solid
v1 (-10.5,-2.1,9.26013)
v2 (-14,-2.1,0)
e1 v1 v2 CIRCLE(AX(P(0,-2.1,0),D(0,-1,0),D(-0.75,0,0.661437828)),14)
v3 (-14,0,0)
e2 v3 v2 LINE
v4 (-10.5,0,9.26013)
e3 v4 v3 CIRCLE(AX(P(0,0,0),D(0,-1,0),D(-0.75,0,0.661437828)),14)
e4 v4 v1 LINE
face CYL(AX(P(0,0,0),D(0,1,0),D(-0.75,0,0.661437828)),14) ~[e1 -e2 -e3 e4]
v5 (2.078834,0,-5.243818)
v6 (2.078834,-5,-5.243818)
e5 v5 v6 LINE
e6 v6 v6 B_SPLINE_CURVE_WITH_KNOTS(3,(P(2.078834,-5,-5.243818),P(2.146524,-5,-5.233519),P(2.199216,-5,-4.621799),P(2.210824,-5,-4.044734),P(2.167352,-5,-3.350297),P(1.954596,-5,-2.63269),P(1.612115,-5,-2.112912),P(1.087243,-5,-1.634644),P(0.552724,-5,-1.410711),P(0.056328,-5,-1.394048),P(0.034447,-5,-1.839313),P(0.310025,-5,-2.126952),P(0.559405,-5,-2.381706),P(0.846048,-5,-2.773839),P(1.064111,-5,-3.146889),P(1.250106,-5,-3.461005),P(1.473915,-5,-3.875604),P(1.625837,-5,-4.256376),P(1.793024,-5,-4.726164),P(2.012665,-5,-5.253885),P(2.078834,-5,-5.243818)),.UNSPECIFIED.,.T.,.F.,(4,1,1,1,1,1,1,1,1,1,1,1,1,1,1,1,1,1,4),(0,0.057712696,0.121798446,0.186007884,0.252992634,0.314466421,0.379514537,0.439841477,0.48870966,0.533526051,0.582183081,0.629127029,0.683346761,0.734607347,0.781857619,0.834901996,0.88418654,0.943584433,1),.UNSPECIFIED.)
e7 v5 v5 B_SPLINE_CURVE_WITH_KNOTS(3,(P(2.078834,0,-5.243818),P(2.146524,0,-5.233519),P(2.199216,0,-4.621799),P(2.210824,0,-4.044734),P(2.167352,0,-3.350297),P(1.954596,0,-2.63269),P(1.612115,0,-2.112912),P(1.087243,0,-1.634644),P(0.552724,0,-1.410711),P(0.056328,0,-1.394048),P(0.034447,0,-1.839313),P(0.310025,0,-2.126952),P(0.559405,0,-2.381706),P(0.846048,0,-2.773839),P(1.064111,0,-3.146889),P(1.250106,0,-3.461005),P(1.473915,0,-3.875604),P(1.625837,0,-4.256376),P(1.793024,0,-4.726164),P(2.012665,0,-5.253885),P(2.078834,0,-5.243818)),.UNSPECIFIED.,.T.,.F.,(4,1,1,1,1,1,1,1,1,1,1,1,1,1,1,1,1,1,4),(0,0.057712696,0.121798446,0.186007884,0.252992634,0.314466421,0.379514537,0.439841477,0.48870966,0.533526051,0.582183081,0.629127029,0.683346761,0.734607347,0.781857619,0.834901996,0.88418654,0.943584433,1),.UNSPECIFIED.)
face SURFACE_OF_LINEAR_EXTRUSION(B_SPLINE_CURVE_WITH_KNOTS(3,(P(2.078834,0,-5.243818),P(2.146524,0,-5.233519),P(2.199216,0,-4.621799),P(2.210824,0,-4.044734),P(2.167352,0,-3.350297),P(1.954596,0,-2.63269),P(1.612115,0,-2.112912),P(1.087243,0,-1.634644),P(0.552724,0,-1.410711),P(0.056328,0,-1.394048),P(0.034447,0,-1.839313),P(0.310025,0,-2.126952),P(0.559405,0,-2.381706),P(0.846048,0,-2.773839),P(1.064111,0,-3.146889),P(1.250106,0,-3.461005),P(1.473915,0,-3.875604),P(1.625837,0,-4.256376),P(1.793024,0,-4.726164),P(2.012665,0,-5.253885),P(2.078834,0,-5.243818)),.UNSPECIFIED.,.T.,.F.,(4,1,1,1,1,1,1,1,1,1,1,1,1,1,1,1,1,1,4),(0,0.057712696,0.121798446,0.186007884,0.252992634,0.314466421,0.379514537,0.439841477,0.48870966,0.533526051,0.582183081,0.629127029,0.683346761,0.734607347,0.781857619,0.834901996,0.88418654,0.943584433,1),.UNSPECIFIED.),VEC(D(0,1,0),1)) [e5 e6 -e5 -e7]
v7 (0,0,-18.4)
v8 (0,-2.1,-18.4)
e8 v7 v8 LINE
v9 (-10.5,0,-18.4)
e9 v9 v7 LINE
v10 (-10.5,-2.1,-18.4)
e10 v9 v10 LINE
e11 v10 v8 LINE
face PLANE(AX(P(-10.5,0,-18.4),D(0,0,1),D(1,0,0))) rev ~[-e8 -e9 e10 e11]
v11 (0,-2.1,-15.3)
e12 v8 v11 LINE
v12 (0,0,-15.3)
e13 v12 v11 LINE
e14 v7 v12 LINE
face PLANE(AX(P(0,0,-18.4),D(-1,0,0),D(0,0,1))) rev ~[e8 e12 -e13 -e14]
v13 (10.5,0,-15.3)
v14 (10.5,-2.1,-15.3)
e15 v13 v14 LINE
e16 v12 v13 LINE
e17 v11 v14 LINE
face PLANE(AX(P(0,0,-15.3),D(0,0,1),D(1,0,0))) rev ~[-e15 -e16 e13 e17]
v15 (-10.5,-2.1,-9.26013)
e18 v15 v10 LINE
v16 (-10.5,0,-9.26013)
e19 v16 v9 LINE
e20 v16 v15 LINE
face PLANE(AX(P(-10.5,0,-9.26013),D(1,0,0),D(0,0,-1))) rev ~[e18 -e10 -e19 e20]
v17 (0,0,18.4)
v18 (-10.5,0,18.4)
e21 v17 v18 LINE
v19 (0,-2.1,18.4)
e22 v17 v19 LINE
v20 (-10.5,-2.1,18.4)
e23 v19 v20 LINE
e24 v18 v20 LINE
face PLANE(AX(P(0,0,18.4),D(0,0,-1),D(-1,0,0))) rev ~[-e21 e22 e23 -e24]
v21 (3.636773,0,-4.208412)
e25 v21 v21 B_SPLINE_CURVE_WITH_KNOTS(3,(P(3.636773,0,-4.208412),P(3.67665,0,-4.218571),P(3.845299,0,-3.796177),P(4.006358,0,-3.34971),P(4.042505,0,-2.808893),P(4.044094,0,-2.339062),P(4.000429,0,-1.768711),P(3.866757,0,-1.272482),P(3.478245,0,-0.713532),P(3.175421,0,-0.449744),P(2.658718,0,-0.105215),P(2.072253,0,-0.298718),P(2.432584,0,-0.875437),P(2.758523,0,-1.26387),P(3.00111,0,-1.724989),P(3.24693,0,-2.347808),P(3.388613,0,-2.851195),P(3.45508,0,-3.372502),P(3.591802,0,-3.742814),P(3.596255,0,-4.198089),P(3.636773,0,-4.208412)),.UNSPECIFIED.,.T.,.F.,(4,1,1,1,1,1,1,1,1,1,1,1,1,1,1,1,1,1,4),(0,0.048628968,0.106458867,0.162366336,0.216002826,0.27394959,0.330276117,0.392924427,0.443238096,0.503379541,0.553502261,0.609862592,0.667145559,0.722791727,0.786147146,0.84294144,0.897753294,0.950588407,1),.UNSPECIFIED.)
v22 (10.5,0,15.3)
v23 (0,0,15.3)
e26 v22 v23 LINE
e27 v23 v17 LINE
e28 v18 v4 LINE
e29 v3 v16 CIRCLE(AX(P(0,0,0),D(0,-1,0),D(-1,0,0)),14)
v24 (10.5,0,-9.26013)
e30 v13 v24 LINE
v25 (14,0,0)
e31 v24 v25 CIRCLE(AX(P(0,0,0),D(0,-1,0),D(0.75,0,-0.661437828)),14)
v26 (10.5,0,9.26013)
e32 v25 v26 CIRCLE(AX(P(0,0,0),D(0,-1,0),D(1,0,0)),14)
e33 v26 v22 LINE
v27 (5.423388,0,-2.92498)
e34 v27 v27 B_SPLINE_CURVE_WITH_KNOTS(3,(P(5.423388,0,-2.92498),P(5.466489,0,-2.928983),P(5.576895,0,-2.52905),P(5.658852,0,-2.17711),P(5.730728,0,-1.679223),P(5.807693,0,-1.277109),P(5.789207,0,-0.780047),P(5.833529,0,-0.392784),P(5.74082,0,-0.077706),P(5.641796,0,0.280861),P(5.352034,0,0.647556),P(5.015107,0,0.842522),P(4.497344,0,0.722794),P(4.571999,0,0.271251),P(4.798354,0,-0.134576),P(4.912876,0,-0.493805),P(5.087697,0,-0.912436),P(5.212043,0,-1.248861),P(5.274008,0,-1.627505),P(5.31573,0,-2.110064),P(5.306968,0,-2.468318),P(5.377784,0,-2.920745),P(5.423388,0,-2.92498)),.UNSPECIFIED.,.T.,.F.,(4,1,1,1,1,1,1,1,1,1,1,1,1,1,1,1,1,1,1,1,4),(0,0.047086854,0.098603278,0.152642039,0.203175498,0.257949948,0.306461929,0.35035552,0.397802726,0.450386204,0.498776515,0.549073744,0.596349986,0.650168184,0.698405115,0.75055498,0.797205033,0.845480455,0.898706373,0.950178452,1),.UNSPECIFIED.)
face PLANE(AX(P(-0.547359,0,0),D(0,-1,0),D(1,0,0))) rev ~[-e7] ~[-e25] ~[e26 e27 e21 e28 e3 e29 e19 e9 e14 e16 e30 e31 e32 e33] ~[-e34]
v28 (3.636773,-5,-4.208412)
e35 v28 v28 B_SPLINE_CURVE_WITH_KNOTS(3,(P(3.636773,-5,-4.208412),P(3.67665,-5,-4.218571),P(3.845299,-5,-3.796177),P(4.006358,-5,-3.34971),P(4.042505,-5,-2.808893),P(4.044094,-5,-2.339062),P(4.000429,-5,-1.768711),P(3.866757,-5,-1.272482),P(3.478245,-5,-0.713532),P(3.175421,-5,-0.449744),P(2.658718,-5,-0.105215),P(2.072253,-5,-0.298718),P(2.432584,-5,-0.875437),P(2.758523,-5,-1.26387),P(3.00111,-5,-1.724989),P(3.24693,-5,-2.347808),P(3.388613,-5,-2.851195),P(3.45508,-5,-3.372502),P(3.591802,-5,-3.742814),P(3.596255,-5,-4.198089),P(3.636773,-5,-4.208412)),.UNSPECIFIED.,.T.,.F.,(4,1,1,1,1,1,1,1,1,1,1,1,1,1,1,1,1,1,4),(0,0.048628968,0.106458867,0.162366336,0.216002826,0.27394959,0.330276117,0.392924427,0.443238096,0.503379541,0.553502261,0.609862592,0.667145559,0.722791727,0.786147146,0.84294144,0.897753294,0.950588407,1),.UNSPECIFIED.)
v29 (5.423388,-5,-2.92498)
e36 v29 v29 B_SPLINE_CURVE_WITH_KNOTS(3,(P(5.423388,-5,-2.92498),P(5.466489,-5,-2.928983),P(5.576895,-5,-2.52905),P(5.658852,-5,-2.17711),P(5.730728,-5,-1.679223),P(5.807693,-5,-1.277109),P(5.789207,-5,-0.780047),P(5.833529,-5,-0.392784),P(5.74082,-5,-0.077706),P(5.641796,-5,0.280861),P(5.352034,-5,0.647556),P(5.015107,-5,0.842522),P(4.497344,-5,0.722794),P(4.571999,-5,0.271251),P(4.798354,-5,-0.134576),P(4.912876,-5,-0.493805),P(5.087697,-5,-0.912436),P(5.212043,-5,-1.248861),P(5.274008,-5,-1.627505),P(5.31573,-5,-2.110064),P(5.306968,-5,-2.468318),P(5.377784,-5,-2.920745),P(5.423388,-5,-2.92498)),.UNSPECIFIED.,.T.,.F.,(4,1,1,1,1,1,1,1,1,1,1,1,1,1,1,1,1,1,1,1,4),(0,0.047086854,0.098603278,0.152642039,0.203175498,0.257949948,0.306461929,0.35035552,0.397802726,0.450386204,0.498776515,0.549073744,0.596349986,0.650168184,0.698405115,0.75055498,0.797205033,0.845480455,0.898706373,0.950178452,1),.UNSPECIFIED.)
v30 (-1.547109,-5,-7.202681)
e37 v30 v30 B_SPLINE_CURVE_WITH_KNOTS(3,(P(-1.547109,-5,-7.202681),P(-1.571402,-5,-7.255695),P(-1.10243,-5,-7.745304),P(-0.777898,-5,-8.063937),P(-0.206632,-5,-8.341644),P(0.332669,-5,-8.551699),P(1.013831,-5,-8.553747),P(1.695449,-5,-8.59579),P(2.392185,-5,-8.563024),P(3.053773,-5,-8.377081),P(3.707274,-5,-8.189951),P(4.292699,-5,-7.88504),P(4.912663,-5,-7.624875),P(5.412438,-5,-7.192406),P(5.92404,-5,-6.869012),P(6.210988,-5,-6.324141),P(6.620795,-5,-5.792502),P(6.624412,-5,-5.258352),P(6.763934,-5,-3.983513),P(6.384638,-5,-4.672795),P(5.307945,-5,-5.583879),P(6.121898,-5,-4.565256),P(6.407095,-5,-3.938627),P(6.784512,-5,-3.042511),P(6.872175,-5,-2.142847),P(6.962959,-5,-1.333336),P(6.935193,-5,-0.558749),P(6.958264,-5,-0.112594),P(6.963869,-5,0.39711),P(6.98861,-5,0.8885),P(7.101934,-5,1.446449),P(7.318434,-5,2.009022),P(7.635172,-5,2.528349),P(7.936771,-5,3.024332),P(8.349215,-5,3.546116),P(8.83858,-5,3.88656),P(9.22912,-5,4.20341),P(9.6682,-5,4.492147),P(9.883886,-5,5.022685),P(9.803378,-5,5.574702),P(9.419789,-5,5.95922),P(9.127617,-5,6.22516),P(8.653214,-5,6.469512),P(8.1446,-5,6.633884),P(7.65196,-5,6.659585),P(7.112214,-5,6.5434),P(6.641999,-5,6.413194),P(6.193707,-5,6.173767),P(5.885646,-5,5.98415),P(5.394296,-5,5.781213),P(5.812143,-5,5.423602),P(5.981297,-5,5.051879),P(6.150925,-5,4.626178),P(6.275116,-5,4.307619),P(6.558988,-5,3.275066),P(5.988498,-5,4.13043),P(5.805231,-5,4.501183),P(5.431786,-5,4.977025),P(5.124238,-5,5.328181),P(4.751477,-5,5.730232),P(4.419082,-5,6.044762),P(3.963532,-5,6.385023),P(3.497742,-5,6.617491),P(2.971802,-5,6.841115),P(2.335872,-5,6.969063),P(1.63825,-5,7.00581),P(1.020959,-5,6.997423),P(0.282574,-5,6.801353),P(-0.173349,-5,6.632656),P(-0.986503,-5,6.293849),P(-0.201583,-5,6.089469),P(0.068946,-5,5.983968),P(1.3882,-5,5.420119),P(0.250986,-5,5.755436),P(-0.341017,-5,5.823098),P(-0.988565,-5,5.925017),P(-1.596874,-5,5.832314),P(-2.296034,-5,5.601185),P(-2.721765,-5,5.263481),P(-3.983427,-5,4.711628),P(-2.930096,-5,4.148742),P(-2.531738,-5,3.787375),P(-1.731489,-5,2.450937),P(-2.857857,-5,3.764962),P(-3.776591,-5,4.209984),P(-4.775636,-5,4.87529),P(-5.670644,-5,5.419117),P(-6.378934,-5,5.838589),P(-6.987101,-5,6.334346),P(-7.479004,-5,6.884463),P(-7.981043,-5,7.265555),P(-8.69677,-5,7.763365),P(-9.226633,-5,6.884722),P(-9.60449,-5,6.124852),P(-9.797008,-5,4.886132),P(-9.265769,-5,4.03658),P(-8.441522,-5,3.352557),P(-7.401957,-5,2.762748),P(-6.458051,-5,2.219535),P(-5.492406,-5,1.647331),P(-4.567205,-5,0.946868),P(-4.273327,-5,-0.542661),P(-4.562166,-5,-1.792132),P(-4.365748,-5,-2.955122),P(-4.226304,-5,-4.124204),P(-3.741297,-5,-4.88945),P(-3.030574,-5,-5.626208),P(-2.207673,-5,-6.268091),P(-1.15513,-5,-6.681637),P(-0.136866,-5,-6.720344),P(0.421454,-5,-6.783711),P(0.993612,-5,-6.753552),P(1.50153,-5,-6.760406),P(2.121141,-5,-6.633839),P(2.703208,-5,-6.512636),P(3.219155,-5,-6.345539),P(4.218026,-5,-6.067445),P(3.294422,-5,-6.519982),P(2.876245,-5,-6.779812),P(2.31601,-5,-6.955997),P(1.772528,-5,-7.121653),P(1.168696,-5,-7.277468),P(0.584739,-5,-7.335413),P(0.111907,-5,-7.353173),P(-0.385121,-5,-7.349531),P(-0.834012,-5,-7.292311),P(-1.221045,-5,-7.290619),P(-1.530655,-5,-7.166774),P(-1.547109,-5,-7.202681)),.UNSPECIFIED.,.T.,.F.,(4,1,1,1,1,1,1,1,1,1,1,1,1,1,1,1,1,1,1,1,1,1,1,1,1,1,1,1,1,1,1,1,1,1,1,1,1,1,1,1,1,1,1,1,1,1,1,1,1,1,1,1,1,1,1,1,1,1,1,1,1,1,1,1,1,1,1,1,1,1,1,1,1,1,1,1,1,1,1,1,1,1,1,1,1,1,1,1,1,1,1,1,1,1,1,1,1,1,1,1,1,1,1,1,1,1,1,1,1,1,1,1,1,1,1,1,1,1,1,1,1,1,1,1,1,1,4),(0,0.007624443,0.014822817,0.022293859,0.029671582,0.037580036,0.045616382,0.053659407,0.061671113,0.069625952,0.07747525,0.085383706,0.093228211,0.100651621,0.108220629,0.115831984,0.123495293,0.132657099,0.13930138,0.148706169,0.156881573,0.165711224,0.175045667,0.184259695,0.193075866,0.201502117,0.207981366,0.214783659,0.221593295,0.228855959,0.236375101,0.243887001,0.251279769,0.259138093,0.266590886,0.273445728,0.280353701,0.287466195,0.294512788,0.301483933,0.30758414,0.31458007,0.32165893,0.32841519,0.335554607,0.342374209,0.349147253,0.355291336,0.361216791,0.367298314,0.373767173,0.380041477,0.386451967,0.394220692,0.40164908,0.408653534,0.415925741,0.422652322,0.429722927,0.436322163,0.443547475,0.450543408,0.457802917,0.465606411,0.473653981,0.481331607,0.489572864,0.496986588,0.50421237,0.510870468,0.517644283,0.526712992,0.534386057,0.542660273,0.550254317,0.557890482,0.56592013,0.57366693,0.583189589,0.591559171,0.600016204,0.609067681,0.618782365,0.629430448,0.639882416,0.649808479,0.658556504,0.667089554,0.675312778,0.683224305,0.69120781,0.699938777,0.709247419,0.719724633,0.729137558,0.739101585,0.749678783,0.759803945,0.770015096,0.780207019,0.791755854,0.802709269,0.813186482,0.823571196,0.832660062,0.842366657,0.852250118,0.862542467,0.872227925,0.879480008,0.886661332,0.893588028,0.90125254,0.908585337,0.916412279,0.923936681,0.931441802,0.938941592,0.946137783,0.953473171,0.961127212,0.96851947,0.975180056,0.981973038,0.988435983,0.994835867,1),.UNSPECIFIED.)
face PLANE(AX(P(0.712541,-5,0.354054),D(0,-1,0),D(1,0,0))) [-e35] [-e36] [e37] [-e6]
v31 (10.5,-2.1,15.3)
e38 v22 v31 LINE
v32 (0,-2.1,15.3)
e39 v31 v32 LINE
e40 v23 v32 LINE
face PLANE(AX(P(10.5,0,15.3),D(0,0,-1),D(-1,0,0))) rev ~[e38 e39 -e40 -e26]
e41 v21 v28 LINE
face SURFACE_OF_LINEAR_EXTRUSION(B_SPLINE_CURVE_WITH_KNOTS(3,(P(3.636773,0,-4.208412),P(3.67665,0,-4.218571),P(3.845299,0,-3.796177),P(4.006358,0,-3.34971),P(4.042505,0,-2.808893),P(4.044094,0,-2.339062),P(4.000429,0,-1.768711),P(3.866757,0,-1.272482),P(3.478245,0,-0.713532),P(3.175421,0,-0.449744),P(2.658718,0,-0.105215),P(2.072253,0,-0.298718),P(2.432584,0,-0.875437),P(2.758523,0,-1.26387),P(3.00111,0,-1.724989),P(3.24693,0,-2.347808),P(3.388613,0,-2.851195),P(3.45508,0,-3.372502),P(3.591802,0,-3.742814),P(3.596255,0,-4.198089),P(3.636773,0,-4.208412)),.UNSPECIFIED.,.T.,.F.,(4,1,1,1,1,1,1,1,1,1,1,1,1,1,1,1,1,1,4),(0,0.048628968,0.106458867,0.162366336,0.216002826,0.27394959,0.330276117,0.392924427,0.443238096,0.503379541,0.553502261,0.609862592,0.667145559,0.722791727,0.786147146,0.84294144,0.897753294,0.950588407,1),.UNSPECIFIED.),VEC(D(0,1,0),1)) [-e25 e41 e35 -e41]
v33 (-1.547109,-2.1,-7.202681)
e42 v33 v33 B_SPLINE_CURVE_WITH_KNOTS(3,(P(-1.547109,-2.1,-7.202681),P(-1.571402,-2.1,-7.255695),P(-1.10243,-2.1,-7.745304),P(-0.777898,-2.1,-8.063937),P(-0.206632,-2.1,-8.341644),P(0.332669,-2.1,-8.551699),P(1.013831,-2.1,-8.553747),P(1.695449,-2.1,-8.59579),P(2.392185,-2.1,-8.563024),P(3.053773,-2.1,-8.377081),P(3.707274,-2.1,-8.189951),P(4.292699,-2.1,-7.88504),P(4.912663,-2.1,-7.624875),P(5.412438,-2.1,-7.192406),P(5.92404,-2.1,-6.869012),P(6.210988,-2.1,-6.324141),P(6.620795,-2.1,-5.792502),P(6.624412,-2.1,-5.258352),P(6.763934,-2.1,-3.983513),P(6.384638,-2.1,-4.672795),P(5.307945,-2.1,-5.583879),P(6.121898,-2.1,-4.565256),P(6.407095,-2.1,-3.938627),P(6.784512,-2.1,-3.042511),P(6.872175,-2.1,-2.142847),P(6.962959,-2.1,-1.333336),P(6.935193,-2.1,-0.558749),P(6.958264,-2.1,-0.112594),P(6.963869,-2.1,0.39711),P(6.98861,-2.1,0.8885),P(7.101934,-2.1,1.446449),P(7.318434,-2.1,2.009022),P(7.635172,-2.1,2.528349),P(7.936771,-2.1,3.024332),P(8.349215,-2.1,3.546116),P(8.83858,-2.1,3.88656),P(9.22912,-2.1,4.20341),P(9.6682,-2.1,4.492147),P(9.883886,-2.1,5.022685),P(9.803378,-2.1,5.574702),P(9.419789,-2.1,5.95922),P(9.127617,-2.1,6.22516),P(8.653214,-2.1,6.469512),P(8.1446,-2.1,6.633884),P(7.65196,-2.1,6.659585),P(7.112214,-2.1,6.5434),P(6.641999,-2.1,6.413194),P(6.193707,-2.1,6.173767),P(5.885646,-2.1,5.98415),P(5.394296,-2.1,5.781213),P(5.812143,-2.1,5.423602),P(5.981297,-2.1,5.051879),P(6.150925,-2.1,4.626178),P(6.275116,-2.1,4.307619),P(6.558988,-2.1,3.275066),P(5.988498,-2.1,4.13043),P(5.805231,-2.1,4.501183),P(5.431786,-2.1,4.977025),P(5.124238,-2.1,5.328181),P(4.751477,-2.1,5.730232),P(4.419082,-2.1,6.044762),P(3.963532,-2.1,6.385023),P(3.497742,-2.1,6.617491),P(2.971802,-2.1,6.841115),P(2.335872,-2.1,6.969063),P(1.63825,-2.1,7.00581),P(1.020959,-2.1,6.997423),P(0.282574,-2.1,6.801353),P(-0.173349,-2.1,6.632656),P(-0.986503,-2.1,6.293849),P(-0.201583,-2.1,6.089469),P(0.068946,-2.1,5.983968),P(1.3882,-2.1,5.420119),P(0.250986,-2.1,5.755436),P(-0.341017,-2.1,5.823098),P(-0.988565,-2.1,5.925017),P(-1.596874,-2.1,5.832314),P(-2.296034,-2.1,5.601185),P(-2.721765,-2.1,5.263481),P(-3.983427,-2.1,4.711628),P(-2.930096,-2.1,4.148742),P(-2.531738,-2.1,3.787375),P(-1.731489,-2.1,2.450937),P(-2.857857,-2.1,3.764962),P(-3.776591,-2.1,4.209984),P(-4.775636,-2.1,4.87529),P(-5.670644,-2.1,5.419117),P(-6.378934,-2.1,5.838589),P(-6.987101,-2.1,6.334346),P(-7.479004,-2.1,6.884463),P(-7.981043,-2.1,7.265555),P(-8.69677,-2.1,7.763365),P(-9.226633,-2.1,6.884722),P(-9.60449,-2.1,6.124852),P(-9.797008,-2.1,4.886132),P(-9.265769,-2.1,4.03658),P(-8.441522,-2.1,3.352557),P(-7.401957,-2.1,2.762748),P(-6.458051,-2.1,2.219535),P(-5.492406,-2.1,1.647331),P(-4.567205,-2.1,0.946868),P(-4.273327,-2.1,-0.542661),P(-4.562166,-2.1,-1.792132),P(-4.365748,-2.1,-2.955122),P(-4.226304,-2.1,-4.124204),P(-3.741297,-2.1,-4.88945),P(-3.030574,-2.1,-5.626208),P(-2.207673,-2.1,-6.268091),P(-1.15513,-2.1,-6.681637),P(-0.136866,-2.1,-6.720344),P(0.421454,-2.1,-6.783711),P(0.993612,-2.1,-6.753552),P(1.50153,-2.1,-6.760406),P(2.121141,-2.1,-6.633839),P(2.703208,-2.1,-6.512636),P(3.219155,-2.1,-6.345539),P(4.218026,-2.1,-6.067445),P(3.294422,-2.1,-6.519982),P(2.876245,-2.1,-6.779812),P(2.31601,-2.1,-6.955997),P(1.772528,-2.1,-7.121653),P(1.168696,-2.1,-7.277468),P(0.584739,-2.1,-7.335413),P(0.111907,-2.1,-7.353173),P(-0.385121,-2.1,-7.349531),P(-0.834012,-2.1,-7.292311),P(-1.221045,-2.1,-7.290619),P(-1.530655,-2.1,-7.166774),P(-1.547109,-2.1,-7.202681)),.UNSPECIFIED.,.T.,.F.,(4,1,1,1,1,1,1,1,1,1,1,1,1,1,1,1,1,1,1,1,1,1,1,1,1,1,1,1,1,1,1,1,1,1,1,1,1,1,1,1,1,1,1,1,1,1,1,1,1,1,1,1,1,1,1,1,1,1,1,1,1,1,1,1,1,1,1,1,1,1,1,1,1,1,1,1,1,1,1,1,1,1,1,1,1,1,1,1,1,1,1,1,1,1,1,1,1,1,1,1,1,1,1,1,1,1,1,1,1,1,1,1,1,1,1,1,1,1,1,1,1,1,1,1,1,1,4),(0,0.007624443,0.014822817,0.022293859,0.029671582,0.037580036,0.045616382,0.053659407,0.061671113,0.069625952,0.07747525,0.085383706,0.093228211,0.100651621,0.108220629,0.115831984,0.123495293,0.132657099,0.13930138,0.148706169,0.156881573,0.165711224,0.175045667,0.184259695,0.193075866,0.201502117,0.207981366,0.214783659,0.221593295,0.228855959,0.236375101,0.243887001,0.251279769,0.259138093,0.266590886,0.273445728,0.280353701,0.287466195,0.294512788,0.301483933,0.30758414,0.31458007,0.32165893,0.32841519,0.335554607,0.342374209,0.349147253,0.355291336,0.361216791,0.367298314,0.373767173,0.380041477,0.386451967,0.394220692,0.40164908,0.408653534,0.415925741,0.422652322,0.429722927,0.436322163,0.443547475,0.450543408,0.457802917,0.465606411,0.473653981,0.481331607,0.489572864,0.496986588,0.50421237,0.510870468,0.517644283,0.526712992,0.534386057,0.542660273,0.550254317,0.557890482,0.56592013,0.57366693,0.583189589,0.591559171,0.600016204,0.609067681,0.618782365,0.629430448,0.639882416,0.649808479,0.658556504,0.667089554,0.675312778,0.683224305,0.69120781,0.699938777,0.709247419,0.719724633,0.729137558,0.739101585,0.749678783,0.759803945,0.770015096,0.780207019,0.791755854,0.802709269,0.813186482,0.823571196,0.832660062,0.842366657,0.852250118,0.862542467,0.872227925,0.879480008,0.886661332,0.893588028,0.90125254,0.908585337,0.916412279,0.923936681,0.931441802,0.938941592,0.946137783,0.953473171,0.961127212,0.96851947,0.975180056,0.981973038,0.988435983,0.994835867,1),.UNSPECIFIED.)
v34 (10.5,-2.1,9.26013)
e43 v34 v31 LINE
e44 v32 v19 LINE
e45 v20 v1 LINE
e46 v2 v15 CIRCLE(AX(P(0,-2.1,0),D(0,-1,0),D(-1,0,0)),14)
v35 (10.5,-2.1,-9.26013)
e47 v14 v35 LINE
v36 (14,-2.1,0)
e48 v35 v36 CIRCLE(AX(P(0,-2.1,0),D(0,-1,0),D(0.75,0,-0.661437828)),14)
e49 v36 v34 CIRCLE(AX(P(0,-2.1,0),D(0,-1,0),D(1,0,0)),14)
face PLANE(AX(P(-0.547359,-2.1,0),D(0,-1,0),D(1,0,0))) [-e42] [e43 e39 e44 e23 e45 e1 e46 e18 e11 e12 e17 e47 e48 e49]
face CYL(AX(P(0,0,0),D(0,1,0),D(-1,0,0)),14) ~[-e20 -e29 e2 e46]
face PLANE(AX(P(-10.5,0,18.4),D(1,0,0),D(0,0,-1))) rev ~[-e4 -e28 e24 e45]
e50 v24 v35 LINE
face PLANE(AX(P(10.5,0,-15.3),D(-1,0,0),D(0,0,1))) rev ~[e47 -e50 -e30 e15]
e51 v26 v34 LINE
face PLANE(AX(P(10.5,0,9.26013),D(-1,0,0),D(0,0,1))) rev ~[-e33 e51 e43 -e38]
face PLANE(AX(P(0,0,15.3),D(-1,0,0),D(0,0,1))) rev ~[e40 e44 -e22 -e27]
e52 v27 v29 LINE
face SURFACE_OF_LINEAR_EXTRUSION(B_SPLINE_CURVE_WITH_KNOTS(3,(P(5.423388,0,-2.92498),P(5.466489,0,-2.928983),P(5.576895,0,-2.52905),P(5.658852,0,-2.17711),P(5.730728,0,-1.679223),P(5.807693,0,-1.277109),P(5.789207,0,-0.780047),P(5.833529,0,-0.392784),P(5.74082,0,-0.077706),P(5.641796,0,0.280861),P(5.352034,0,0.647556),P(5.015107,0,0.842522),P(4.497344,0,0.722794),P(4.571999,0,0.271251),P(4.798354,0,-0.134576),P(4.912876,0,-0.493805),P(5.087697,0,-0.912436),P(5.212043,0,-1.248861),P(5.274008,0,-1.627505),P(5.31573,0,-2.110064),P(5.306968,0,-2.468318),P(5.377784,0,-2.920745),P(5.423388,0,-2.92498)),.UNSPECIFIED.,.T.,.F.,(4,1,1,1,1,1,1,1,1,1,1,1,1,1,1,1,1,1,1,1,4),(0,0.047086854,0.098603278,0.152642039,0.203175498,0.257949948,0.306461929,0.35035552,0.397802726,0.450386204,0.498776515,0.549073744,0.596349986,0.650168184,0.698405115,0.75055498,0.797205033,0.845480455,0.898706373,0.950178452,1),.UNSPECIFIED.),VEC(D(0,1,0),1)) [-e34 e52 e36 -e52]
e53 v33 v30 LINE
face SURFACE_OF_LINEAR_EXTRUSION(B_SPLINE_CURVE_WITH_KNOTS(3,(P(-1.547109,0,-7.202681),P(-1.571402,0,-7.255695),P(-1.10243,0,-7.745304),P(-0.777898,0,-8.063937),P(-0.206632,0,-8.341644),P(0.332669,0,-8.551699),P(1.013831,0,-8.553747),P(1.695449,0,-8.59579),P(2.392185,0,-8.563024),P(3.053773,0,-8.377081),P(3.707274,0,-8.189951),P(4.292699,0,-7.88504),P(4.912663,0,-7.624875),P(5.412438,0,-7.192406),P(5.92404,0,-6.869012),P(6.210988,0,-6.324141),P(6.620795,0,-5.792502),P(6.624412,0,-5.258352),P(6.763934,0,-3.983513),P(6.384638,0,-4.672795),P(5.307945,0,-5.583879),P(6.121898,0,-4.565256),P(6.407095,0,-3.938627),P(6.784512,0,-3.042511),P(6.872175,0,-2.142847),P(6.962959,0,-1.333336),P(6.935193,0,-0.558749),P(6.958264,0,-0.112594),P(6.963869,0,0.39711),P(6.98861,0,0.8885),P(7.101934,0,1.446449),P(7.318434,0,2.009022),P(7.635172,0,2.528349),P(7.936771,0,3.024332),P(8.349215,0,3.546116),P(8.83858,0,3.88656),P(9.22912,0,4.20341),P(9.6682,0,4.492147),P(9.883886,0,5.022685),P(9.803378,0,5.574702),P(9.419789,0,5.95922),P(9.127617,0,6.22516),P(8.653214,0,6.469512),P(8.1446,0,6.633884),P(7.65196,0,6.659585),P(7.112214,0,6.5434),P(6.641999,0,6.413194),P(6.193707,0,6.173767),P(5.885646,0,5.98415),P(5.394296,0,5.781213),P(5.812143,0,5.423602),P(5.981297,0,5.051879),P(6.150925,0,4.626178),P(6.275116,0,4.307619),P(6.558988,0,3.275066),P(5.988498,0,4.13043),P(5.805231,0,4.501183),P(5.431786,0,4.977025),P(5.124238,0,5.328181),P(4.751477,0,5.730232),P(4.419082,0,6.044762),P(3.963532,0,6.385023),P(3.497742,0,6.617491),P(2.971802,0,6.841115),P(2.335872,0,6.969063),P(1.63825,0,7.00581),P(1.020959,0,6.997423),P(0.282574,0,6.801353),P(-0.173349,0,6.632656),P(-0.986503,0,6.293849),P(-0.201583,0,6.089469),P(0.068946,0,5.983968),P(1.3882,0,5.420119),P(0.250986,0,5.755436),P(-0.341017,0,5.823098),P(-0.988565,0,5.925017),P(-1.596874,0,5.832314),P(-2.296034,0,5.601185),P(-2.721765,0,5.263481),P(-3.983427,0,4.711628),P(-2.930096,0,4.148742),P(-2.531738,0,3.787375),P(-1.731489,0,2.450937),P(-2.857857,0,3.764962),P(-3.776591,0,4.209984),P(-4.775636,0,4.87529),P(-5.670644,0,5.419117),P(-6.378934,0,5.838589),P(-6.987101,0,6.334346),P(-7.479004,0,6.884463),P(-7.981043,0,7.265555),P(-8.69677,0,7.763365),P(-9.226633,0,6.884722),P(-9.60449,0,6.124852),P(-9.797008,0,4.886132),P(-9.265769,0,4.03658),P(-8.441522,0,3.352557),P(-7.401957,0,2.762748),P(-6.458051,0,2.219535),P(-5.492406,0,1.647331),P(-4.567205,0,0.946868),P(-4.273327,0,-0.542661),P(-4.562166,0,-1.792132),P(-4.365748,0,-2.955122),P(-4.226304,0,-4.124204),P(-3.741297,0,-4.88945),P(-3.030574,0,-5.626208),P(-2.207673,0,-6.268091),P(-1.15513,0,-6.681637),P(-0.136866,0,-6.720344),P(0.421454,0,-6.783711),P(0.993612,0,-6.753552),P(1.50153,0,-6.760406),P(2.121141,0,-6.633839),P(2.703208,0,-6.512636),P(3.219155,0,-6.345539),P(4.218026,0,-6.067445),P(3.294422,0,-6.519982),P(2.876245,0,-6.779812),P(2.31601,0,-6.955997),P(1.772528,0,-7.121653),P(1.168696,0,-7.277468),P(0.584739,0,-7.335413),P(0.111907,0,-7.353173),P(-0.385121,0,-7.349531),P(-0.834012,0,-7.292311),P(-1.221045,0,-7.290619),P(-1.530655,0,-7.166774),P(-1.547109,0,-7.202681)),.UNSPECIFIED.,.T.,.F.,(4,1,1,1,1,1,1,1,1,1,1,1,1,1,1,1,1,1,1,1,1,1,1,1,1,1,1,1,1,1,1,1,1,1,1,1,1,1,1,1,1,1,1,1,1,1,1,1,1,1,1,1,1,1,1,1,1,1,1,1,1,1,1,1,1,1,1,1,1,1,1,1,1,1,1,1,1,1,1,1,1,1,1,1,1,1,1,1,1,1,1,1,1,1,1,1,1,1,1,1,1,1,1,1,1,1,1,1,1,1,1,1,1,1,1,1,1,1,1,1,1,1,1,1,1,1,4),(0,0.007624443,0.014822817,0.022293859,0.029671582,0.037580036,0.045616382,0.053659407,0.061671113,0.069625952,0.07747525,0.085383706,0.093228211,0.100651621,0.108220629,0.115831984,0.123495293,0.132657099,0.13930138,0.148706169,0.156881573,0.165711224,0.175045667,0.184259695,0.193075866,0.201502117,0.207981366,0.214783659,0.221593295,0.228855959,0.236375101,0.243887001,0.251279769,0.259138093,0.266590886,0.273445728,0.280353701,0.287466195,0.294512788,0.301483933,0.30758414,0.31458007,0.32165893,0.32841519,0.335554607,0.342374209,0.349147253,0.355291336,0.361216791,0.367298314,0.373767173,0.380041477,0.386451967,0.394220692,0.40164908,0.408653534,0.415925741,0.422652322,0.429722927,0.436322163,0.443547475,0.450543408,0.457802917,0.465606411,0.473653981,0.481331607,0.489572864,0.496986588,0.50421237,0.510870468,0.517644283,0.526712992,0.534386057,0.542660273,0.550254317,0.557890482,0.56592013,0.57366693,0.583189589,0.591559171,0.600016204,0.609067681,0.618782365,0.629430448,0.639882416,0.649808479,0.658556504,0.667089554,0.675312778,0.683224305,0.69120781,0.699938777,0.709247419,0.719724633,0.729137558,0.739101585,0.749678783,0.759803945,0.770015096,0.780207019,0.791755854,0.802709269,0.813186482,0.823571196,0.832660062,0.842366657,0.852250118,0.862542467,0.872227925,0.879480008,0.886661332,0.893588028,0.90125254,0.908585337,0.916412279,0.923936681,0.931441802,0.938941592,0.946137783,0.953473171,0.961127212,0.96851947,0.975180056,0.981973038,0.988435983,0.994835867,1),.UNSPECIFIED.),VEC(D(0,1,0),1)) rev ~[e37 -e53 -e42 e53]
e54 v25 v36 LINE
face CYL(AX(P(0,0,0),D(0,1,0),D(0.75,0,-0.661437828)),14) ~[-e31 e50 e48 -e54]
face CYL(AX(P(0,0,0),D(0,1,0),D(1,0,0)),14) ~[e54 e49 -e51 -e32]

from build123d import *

# Parameters (mm, degrees)
F1_DEPTH = 5
F2_DEPTH = 2.1


with BuildPart() as f1:
    # F0 (on Front) → F1 (new body)
    with BuildSketch(Plane.XZ):
        with BuildLine():
            add(Edge.make_bspline(
                [(-1.54710887, -7.2026806884), (-1.5714022816, -7.2556947029), (-1.1024298731, -7.7453036432), (-0.7778983012, -8.0639370539), (-0.2066323452, -8.3416437166), (0.3326687358, -8.5516990853), (1.0138306321, -8.5537472646), (1.6954487308, -8.5957895148), (2.3921853206, -8.5630242221), (3.053772806, -8.3770805223), (3.7072739478, -8.189951125), (4.2926992308, -7.8850400927), (4.9126628675, -7.624875456), (5.4124378942, -7.1924056499), (5.924040299, -6.869011896), (6.2109884583, -6.324141205), (6.6207950176, -5.7925023908), (6.6244121236, -5.2583521431), (6.7639344538, -3.9835134937), (6.3846380458, -4.6727948873), (5.3079451979, -5.5838786057), (6.1218984803, -4.5652559271), (6.4070953996, -3.9386268467), (6.784511678, -3.0425106229), (6.8721749353, -2.1428468024), (6.9629586119, -1.3333357087), (6.9351932866, -0.5587490641), (6.9582636275, -0.1125937975), (6.9638690546, 0.3971102014), (6.9886103185, 0.8885003296), (7.1019341821, 1.446448609), (7.318433989, 2.009021543), (7.6351718808, 2.52834946), (7.9367707882, 3.0243317102), (8.3492148225, 3.546115569), (8.8385801488, 3.8865601447), (9.229119525, 4.2034098288), (9.668200122, 4.492146706), (9.8838862648, 5.0226847085), (9.8033778941, 5.5747024529), (9.4197889803, 5.9592202424), (9.1276170187, 6.2251604091), (8.6532143131, 6.4695115906), (8.1446004084, 6.6338840478), (7.651960052, 6.6595853458), (7.1122141562, 6.5433998673), (6.6419990819, 6.4131944029), (6.193706711, 6.1737670737), (5.8856458796, 5.9841495527), (5.3942958869, 5.7812132158), (5.81214322, 5.4236017907), (5.9812970587, 5.0518786047), (6.1509246733, 4.6261781577), (6.2751162061, 4.3076190528), (6.5589881158, 3.2750657417), (5.9884976585, 4.1304298355), (5.8052313848, 4.5011832964), (5.4317860342, 4.9770254094), (5.1242383891, 5.328181282), (4.7514765015, 5.7302321929), (4.4190822378, 6.0447620005), (3.9635324199, 6.3850227619), (3.4977422696, 6.6174905864), (2.971801794, 6.8411149294), (2.3358715196, 6.9690628347), (1.6382500286, 7.0058099014), (1.0209585483, 6.9974231015), (0.2825740376, 6.8013530942), (-0.1733492359, 6.6326564949), (-0.9865034735, 6.2938488031), (-0.2015831608, 6.089469136), (0.0689455439, 5.9839676668), (1.3882003442, 5.4201194472), (0.2509857561, 5.7554358539), (-0.3410174619, 5.8230984276), (-0.9885652276, 5.9250169044), (-1.5968735631, 5.83231375), (-2.2960342588, 5.6011850295), (-2.721764598, 5.2634806835), (-3.9834268869, 4.7116284575), (-2.9300964524, 4.1487421169), (-2.5317376874, 3.7873752894), (-1.7314889543, 2.4509367484), (-2.8578574434, 3.7649616122), (-3.7765909058, 4.2099840988), (-4.7756357365, 4.8752901357), (-5.6706439018, 5.4191168203), (-6.3789340308, 5.8385893947), (-6.9871007439, 6.3343459742), (-7.4790036899, 6.8844633905), (-7.981043123, 7.2655545343), (-8.6967696294, 7.7633646281), (-9.2266334733, 6.8847216067), (-9.6044895588, 6.1248518404), (-9.7970075848, 4.8861315647), (-9.265769161, 4.0365799476), (-8.4415217617, 3.3525570848), (-7.401956768, 2.7627475447), (-6.4580512541, 2.2195350495), (-5.4924062838, 1.6473312567), (-4.5672050669, 0.9468680966), (-4.2733265657, -0.5426607653), (-4.5621657048, -1.7921322275), (-4.3657479377, -2.955122333), (-4.226304176, -4.1242043293), (-3.7412971037, -4.8894495756), (-3.0305743479, -5.6262078056), (-2.2076730787, -6.2680907125), (-1.1551297617, -6.6816374056), (-0.1368661608, -6.7203435604), (0.4214539306, -6.7837111889), (0.9936119697, -6.7535524835), (1.5015295571, -6.7604056262), (2.1211413178, -6.6338392951), (2.7032079702, -6.5126363182), (3.2191551253, -6.3455394173), (4.2180264763, -6.0674446496), (3.2944215205, -6.5199815582), (2.8762450769, -6.77981168), (2.3160097214, -6.9559971564), (1.7725282272, -7.1216530032), (1.1686958123, -7.2774676554), (0.5847391242, -7.3354130793), (0.1119074651, -7.3531733314), (-0.3851206627, -7.349530941), (-0.8340122168, -7.2923106759), (-1.221044967, -7.2906187448), (-1.5306546314, -7.1667736177), (-1.54710887, -7.2026806884)],
                knots=[0, 0, 0, 0, 0.0076244429, 0.0148228168, 0.0222938595, 0.029671582, 0.0375800363, 0.0456163817, 0.0536594075, 0.0616711128, 0.0696259517, 0.0774752497, 0.0853837057, 0.0932282112, 0.1006516206, 0.1082206289, 0.115831984, 0.1234952931, 0.1326570988, 0.1393013796, 0.1487061688, 0.1568815732, 0.1657112239, 0.1750456667, 0.1842596953, 0.1930758665, 0.2015021173, 0.2079813662, 0.2147836592, 0.2215932948, 0.2288559586, 0.2363751009, 0.243887001, 0.2512797694, 0.2591380935, 0.2665908862, 0.2734457285, 0.2803537008, 0.2874661947, 0.2945127879, 0.3014839334, 0.3075841402, 0.3145800703, 0.3216589299, 0.3284151902, 0.3355546067, 0.3423742091, 0.3491472531, 0.355291336, 0.3612167914, 0.3672983142, 0.3737671732, 0.3800414773, 0.386451967, 0.3942206918, 0.40164908, 0.4086535336, 0.4159257408, 0.4226523222, 0.4297229274, 0.4363221634, 0.4435474752, 0.450543408, 0.4578029171, 0.4656064112, 0.4736539812, 0.4813316069, 0.4895728645, 0.4969865879, 0.5042123697, 0.5108704678, 0.5176442834, 0.5267129919, 0.5343860568, 0.5426602731, 0.5502543167, 0.5578904824, 0.5659201301, 0.57366693, 0.5831895886, 0.5915591708, 0.6000162038, 0.6090676805, 0.6187823653, 0.6294304476, 0.6398824162, 0.6498084785, 0.658556504, 0.667089554, 0.6753127782, 0.6832243053, 0.6912078103, 0.6999387773, 0.709247419, 0.7197246333, 0.7291375579, 0.7391015853, 0.7496787832, 0.7598039447, 0.7700150957, 0.780207019, 0.7917558544, 0.8027092691, 0.8131864822, 0.8235711965, 0.8326600615, 0.842366657, 0.8522501182, 0.8625424666, 0.8722279246, 0.8794800084, 0.8866613321, 0.893588028, 0.9012525404, 0.9085853368, 0.9164122789, 0.9239366814, 0.9314418024, 0.9389415916, 0.9461377832, 0.9534731712, 0.9611272119, 0.9685194702, 0.9751800556, 0.981973038, 0.9884359826, 0.9948358672, 1, 1, 1, 1], degree=3))
        make_face()
        with BuildLine():
            add(Edge.make_bspline(
                [(2.0788342226, -5.24381781), (2.1465243707, -5.2335194099), (2.1992160415, -4.6217988602), (2.2108244023, -4.0447335805), (2.1673515423, -3.3502971536), (1.9545962949, -2.6326898651), (1.6121145795, -2.1129117602), (1.0872429151, -1.634643544), (0.5527239854, -1.4107113367), (0.0563284697, -1.3940483774), (0.0344473781, -1.8393125051), (0.3100245558, -2.1269522286), (0.559404564, -2.3817055704), (0.846048216, -2.7738393555), (1.0641105096, -3.1468885264), (1.2501058998, -3.4610050365), (1.4739150282, -3.8756041737), (1.6258371524, -4.256375962), (1.7930239317, -4.7261640139), (2.0126654532, -5.253884747), (2.0788342226, -5.24381781)],
                knots=[0, 0, 0, 0, 0.0577126962, 0.1217984461, 0.1860078843, 0.252992634, 0.3144664211, 0.3795145369, 0.439841477, 0.4887096601, 0.5335260507, 0.5821830808, 0.629127029, 0.6833467607, 0.7346073471, 0.7818576188, 0.8349019956, 0.8841865395, 0.943584433, 1, 1, 1, 1], degree=3))
        make_face(mode=Mode.SUBTRACT)
        with BuildLine():
            add(Edge.make_bspline(
                [(3.6367734428, -4.2084120214), (3.6766498164, -4.2185711678), (3.8452986006, -3.7961766905), (4.0063581887, -3.3497101578), (4.0425050692, -2.8088930591), (4.0440943249, -2.3390623424), (4.0004292622, -1.7687106948), (3.8667573406, -1.2724816993), (3.4782445097, -0.7135318262), (3.1754207608, -0.4497437281), (2.6587184253, -0.1052149867), (2.0722532956, -0.2987175394), (2.4325837412, -0.8754372825), (2.758522871, -1.2638697646), (3.0011101817, -1.7249885327), (3.2469297671, -2.3478079466), (3.3886128164, -2.8511949429), (3.4550797242, -3.3725017732), (3.591801561, -3.7428136424), (3.5962553062, -4.1980893756), (3.6367734428, -4.2084120214)],
                knots=[0, 0, 0, 0, 0.0486289677, 0.1064588668, 0.1623663356, 0.2160028259, 0.2739495901, 0.3302761167, 0.3929244266, 0.443238096, 0.5033795411, 0.5535022608, 0.6098625923, 0.6671455591, 0.7227917269, 0.7861471459, 0.8429414398, 0.8977532937, 0.9505884067, 1, 1, 1, 1], degree=3))
        make_face(mode=Mode.SUBTRACT)
        with BuildLine():
            add(Edge.make_bspline(
                [(5.4233879782, -2.9249803629), (5.4664886373, -2.9289829691), (5.5768946595, -2.5290499713), (5.6588516359, -2.1771096192), (5.7307284732, -1.6792227719), (5.8076926539, -1.2771087757), (5.7892072419, -0.7800471538), (5.8335285473, -0.39278376), (5.7408201389, -0.0777063568), (5.6417963113, 0.2808608778), (5.3520344689, 0.6475557419), (5.0151065371, 0.8425224852), (4.4973442715, 0.7227936498), (4.571998853, 0.2712513582), (4.7983544356, -0.1345758853), (4.9128757941, -0.4938047605), (5.087697496, -0.9124358032), (5.212043097, -1.2488607972), (5.2740075668, -1.627505158), (5.3157301644, -2.1100642138), (5.3069677587, -2.4683184335), (5.3777841345, -2.9207452947), (5.4233879782, -2.9249803629)],
                knots=[0, 0, 0, 0, 0.0470868545, 0.0986032784, 0.1526420393, 0.2031754983, 0.2579499482, 0.3064619289, 0.3503555197, 0.397802726, 0.4503862044, 0.4987765152, 0.5490737437, 0.5963499856, 0.6501681839, 0.6984051154, 0.7505549799, 0.7972050329, 0.8454804549, 0.898706373, 0.950178452, 1, 1, 1, 1], degree=3))
        make_face(mode=Mode.SUBTRACT)
    extrude(amount=F1_DEPTH)

    # F0 (on Front) → F2 (join)
    with BuildSketch(Plane.XZ):
        with BuildLine():
            Line((-10.5, 18.4), (-10.5, 9.2601295887))
            ThreePointArc((-10.5, 9.2601295887), (-13.0958008537, 4.9497474683), (-14, 0))
            ThreePointArc((-14, 0), (-13.0958008537, -4.9497474683), (-10.5, -9.2601295887))
            Line((-10.5, -9.2601295887), (-10.5, -18.4))
            Line((-10.5, -18.4), (0, -18.4))
            Line((0, -18.4), (0, -15.3))
            Line((0, -15.3), (10.5, -15.3))
            Line((10.5, -15.3), (10.5, -9.2601295887))
            ThreePointArc((10.5, -9.2601295887), (13.0958008537, -4.9497474683), (14, 0))
            ThreePointArc((14, 0), (13.0958008537, 4.9497474683), (10.5, 9.2601295887))
            Line((10.5, 9.2601295887), (10.5, 15.3))
            Line((10.5, 15.3), (0, 15.3))
            Line((0, 15.3), (0, 18.4))
            Line((0, 18.4), (-10.5, 18.4))
        make_face()
        with BuildLine():
            add(Edge.make_bspline(
                [(-1.54710887, -7.2026806884), (-1.5714022816, -7.2556947029), (-1.1024298731, -7.7453036432), (-0.7778983012, -8.0639370539), (-0.2066323452, -8.3416437166), (0.3326687358, -8.5516990853), (1.0138306321, -8.5537472646), (1.6954487308, -8.5957895148), (2.3921853206, -8.5630242221), (3.053772806, -8.3770805223), (3.7072739478, -8.189951125), (4.2926992308, -7.8850400927), (4.9126628675, -7.624875456), (5.4124378942, -7.1924056499), (5.924040299, -6.869011896), (6.2109884583, -6.324141205), (6.6207950176, -5.7925023908), (6.6244121236, -5.2583521431), (6.7639344538, -3.9835134937), (6.3846380458, -4.6727948873), (5.3079451979, -5.5838786057), (6.1218984803, -4.5652559271), (6.4070953996, -3.9386268467), (6.784511678, -3.0425106229), (6.8721749353, -2.1428468024), (6.9629586119, -1.3333357087), (6.9351932866, -0.5587490641), (6.9582636275, -0.1125937975), (6.9638690546, 0.3971102014), (6.9886103185, 0.8885003296), (7.1019341821, 1.446448609), (7.318433989, 2.009021543), (7.6351718808, 2.52834946), (7.9367707882, 3.0243317102), (8.3492148225, 3.546115569), (8.8385801488, 3.8865601447), (9.229119525, 4.2034098288), (9.668200122, 4.492146706), (9.8838862648, 5.0226847085), (9.8033778941, 5.5747024529), (9.4197889803, 5.9592202424), (9.1276170187, 6.2251604091), (8.6532143131, 6.4695115906), (8.1446004084, 6.6338840478), (7.651960052, 6.6595853458), (7.1122141562, 6.5433998673), (6.6419990819, 6.4131944029), (6.193706711, 6.1737670737), (5.8856458796, 5.9841495527), (5.3942958869, 5.7812132158), (5.81214322, 5.4236017907), (5.9812970587, 5.0518786047), (6.1509246733, 4.6261781577), (6.2751162061, 4.3076190528), (6.5589881158, 3.2750657417), (5.9884976585, 4.1304298355), (5.8052313848, 4.5011832964), (5.4317860342, 4.9770254094), (5.1242383891, 5.328181282), (4.7514765015, 5.7302321929), (4.4190822378, 6.0447620005), (3.9635324199, 6.3850227619), (3.4977422696, 6.6174905864), (2.971801794, 6.8411149294), (2.3358715196, 6.9690628347), (1.6382500286, 7.0058099014), (1.0209585483, 6.9974231015), (0.2825740376, 6.8013530942), (-0.1733492359, 6.6326564949), (-0.9865034735, 6.2938488031), (-0.2015831608, 6.089469136), (0.0689455439, 5.9839676668), (1.3882003442, 5.4201194472), (0.2509857561, 5.7554358539), (-0.3410174619, 5.8230984276), (-0.9885652276, 5.9250169044), (-1.5968735631, 5.83231375), (-2.2960342588, 5.6011850295), (-2.721764598, 5.2634806835), (-3.9834268869, 4.7116284575), (-2.9300964524, 4.1487421169), (-2.5317376874, 3.7873752894), (-1.7314889543, 2.4509367484), (-2.8578574434, 3.7649616122), (-3.7765909058, 4.2099840988), (-4.7756357365, 4.8752901357), (-5.6706439018, 5.4191168203), (-6.3789340308, 5.8385893947), (-6.9871007439, 6.3343459742), (-7.4790036899, 6.8844633905), (-7.981043123, 7.2655545343), (-8.6967696294, 7.7633646281), (-9.2266334733, 6.8847216067), (-9.6044895588, 6.1248518404), (-9.7970075848, 4.8861315647), (-9.265769161, 4.0365799476), (-8.4415217617, 3.3525570848), (-7.401956768, 2.7627475447), (-6.4580512541, 2.2195350495), (-5.4924062838, 1.6473312567), (-4.5672050669, 0.9468680966), (-4.2733265657, -0.5426607653), (-4.5621657048, -1.7921322275), (-4.3657479377, -2.955122333), (-4.226304176, -4.1242043293), (-3.7412971037, -4.8894495756), (-3.0305743479, -5.6262078056), (-2.2076730787, -6.2680907125), (-1.1551297617, -6.6816374056), (-0.1368661608, -6.7203435604), (0.4214539306, -6.7837111889), (0.9936119697, -6.7535524835), (1.5015295571, -6.7604056262), (2.1211413178, -6.6338392951), (2.7032079702, -6.5126363182), (3.2191551253, -6.3455394173), (4.2180264763, -6.0674446496), (3.2944215205, -6.5199815582), (2.8762450769, -6.77981168), (2.3160097214, -6.9559971564), (1.7725282272, -7.1216530032), (1.1686958123, -7.2774676554), (0.5847391242, -7.3354130793), (0.1119074651, -7.3531733314), (-0.3851206627, -7.349530941), (-0.8340122168, -7.2923106759), (-1.221044967, -7.2906187448), (-1.5306546314, -7.1667736177), (-1.54710887, -7.2026806884)],
                knots=[0, 0, 0, 0, 0.0076244429, 0.0148228168, 0.0222938595, 0.029671582, 0.0375800363, 0.0456163817, 0.0536594075, 0.0616711128, 0.0696259517, 0.0774752497, 0.0853837057, 0.0932282112, 0.1006516206, 0.1082206289, 0.115831984, 0.1234952931, 0.1326570988, 0.1393013796, 0.1487061688, 0.1568815732, 0.1657112239, 0.1750456667, 0.1842596953, 0.1930758665, 0.2015021173, 0.2079813662, 0.2147836592, 0.2215932948, 0.2288559586, 0.2363751009, 0.243887001, 0.2512797694, 0.2591380935, 0.2665908862, 0.2734457285, 0.2803537008, 0.2874661947, 0.2945127879, 0.3014839334, 0.3075841402, 0.3145800703, 0.3216589299, 0.3284151902, 0.3355546067, 0.3423742091, 0.3491472531, 0.355291336, 0.3612167914, 0.3672983142, 0.3737671732, 0.3800414773, 0.386451967, 0.3942206918, 0.40164908, 0.4086535336, 0.4159257408, 0.4226523222, 0.4297229274, 0.4363221634, 0.4435474752, 0.450543408, 0.4578029171, 0.4656064112, 0.4736539812, 0.4813316069, 0.4895728645, 0.4969865879, 0.5042123697, 0.5108704678, 0.5176442834, 0.5267129919, 0.5343860568, 0.5426602731, 0.5502543167, 0.5578904824, 0.5659201301, 0.57366693, 0.5831895886, 0.5915591708, 0.6000162038, 0.6090676805, 0.6187823653, 0.6294304476, 0.6398824162, 0.6498084785, 0.658556504, 0.667089554, 0.6753127782, 0.6832243053, 0.6912078103, 0.6999387773, 0.709247419, 0.7197246333, 0.7291375579, 0.7391015853, 0.7496787832, 0.7598039447, 0.7700150957, 0.780207019, 0.7917558544, 0.8027092691, 0.8131864822, 0.8235711965, 0.8326600615, 0.842366657, 0.8522501182, 0.8625424666, 0.8722279246, 0.8794800084, 0.8866613321, 0.893588028, 0.9012525404, 0.9085853368, 0.9164122789, 0.9239366814, 0.9314418024, 0.9389415916, 0.9461377832, 0.9534731712, 0.9611272119, 0.9685194702, 0.9751800556, 0.981973038, 0.9884359826, 0.9948358672, 1, 1, 1, 1], degree=3))
        make_face(mode=Mode.SUBTRACT)
    extrude(amount=F2_DEPTH)


solid = f1.part
